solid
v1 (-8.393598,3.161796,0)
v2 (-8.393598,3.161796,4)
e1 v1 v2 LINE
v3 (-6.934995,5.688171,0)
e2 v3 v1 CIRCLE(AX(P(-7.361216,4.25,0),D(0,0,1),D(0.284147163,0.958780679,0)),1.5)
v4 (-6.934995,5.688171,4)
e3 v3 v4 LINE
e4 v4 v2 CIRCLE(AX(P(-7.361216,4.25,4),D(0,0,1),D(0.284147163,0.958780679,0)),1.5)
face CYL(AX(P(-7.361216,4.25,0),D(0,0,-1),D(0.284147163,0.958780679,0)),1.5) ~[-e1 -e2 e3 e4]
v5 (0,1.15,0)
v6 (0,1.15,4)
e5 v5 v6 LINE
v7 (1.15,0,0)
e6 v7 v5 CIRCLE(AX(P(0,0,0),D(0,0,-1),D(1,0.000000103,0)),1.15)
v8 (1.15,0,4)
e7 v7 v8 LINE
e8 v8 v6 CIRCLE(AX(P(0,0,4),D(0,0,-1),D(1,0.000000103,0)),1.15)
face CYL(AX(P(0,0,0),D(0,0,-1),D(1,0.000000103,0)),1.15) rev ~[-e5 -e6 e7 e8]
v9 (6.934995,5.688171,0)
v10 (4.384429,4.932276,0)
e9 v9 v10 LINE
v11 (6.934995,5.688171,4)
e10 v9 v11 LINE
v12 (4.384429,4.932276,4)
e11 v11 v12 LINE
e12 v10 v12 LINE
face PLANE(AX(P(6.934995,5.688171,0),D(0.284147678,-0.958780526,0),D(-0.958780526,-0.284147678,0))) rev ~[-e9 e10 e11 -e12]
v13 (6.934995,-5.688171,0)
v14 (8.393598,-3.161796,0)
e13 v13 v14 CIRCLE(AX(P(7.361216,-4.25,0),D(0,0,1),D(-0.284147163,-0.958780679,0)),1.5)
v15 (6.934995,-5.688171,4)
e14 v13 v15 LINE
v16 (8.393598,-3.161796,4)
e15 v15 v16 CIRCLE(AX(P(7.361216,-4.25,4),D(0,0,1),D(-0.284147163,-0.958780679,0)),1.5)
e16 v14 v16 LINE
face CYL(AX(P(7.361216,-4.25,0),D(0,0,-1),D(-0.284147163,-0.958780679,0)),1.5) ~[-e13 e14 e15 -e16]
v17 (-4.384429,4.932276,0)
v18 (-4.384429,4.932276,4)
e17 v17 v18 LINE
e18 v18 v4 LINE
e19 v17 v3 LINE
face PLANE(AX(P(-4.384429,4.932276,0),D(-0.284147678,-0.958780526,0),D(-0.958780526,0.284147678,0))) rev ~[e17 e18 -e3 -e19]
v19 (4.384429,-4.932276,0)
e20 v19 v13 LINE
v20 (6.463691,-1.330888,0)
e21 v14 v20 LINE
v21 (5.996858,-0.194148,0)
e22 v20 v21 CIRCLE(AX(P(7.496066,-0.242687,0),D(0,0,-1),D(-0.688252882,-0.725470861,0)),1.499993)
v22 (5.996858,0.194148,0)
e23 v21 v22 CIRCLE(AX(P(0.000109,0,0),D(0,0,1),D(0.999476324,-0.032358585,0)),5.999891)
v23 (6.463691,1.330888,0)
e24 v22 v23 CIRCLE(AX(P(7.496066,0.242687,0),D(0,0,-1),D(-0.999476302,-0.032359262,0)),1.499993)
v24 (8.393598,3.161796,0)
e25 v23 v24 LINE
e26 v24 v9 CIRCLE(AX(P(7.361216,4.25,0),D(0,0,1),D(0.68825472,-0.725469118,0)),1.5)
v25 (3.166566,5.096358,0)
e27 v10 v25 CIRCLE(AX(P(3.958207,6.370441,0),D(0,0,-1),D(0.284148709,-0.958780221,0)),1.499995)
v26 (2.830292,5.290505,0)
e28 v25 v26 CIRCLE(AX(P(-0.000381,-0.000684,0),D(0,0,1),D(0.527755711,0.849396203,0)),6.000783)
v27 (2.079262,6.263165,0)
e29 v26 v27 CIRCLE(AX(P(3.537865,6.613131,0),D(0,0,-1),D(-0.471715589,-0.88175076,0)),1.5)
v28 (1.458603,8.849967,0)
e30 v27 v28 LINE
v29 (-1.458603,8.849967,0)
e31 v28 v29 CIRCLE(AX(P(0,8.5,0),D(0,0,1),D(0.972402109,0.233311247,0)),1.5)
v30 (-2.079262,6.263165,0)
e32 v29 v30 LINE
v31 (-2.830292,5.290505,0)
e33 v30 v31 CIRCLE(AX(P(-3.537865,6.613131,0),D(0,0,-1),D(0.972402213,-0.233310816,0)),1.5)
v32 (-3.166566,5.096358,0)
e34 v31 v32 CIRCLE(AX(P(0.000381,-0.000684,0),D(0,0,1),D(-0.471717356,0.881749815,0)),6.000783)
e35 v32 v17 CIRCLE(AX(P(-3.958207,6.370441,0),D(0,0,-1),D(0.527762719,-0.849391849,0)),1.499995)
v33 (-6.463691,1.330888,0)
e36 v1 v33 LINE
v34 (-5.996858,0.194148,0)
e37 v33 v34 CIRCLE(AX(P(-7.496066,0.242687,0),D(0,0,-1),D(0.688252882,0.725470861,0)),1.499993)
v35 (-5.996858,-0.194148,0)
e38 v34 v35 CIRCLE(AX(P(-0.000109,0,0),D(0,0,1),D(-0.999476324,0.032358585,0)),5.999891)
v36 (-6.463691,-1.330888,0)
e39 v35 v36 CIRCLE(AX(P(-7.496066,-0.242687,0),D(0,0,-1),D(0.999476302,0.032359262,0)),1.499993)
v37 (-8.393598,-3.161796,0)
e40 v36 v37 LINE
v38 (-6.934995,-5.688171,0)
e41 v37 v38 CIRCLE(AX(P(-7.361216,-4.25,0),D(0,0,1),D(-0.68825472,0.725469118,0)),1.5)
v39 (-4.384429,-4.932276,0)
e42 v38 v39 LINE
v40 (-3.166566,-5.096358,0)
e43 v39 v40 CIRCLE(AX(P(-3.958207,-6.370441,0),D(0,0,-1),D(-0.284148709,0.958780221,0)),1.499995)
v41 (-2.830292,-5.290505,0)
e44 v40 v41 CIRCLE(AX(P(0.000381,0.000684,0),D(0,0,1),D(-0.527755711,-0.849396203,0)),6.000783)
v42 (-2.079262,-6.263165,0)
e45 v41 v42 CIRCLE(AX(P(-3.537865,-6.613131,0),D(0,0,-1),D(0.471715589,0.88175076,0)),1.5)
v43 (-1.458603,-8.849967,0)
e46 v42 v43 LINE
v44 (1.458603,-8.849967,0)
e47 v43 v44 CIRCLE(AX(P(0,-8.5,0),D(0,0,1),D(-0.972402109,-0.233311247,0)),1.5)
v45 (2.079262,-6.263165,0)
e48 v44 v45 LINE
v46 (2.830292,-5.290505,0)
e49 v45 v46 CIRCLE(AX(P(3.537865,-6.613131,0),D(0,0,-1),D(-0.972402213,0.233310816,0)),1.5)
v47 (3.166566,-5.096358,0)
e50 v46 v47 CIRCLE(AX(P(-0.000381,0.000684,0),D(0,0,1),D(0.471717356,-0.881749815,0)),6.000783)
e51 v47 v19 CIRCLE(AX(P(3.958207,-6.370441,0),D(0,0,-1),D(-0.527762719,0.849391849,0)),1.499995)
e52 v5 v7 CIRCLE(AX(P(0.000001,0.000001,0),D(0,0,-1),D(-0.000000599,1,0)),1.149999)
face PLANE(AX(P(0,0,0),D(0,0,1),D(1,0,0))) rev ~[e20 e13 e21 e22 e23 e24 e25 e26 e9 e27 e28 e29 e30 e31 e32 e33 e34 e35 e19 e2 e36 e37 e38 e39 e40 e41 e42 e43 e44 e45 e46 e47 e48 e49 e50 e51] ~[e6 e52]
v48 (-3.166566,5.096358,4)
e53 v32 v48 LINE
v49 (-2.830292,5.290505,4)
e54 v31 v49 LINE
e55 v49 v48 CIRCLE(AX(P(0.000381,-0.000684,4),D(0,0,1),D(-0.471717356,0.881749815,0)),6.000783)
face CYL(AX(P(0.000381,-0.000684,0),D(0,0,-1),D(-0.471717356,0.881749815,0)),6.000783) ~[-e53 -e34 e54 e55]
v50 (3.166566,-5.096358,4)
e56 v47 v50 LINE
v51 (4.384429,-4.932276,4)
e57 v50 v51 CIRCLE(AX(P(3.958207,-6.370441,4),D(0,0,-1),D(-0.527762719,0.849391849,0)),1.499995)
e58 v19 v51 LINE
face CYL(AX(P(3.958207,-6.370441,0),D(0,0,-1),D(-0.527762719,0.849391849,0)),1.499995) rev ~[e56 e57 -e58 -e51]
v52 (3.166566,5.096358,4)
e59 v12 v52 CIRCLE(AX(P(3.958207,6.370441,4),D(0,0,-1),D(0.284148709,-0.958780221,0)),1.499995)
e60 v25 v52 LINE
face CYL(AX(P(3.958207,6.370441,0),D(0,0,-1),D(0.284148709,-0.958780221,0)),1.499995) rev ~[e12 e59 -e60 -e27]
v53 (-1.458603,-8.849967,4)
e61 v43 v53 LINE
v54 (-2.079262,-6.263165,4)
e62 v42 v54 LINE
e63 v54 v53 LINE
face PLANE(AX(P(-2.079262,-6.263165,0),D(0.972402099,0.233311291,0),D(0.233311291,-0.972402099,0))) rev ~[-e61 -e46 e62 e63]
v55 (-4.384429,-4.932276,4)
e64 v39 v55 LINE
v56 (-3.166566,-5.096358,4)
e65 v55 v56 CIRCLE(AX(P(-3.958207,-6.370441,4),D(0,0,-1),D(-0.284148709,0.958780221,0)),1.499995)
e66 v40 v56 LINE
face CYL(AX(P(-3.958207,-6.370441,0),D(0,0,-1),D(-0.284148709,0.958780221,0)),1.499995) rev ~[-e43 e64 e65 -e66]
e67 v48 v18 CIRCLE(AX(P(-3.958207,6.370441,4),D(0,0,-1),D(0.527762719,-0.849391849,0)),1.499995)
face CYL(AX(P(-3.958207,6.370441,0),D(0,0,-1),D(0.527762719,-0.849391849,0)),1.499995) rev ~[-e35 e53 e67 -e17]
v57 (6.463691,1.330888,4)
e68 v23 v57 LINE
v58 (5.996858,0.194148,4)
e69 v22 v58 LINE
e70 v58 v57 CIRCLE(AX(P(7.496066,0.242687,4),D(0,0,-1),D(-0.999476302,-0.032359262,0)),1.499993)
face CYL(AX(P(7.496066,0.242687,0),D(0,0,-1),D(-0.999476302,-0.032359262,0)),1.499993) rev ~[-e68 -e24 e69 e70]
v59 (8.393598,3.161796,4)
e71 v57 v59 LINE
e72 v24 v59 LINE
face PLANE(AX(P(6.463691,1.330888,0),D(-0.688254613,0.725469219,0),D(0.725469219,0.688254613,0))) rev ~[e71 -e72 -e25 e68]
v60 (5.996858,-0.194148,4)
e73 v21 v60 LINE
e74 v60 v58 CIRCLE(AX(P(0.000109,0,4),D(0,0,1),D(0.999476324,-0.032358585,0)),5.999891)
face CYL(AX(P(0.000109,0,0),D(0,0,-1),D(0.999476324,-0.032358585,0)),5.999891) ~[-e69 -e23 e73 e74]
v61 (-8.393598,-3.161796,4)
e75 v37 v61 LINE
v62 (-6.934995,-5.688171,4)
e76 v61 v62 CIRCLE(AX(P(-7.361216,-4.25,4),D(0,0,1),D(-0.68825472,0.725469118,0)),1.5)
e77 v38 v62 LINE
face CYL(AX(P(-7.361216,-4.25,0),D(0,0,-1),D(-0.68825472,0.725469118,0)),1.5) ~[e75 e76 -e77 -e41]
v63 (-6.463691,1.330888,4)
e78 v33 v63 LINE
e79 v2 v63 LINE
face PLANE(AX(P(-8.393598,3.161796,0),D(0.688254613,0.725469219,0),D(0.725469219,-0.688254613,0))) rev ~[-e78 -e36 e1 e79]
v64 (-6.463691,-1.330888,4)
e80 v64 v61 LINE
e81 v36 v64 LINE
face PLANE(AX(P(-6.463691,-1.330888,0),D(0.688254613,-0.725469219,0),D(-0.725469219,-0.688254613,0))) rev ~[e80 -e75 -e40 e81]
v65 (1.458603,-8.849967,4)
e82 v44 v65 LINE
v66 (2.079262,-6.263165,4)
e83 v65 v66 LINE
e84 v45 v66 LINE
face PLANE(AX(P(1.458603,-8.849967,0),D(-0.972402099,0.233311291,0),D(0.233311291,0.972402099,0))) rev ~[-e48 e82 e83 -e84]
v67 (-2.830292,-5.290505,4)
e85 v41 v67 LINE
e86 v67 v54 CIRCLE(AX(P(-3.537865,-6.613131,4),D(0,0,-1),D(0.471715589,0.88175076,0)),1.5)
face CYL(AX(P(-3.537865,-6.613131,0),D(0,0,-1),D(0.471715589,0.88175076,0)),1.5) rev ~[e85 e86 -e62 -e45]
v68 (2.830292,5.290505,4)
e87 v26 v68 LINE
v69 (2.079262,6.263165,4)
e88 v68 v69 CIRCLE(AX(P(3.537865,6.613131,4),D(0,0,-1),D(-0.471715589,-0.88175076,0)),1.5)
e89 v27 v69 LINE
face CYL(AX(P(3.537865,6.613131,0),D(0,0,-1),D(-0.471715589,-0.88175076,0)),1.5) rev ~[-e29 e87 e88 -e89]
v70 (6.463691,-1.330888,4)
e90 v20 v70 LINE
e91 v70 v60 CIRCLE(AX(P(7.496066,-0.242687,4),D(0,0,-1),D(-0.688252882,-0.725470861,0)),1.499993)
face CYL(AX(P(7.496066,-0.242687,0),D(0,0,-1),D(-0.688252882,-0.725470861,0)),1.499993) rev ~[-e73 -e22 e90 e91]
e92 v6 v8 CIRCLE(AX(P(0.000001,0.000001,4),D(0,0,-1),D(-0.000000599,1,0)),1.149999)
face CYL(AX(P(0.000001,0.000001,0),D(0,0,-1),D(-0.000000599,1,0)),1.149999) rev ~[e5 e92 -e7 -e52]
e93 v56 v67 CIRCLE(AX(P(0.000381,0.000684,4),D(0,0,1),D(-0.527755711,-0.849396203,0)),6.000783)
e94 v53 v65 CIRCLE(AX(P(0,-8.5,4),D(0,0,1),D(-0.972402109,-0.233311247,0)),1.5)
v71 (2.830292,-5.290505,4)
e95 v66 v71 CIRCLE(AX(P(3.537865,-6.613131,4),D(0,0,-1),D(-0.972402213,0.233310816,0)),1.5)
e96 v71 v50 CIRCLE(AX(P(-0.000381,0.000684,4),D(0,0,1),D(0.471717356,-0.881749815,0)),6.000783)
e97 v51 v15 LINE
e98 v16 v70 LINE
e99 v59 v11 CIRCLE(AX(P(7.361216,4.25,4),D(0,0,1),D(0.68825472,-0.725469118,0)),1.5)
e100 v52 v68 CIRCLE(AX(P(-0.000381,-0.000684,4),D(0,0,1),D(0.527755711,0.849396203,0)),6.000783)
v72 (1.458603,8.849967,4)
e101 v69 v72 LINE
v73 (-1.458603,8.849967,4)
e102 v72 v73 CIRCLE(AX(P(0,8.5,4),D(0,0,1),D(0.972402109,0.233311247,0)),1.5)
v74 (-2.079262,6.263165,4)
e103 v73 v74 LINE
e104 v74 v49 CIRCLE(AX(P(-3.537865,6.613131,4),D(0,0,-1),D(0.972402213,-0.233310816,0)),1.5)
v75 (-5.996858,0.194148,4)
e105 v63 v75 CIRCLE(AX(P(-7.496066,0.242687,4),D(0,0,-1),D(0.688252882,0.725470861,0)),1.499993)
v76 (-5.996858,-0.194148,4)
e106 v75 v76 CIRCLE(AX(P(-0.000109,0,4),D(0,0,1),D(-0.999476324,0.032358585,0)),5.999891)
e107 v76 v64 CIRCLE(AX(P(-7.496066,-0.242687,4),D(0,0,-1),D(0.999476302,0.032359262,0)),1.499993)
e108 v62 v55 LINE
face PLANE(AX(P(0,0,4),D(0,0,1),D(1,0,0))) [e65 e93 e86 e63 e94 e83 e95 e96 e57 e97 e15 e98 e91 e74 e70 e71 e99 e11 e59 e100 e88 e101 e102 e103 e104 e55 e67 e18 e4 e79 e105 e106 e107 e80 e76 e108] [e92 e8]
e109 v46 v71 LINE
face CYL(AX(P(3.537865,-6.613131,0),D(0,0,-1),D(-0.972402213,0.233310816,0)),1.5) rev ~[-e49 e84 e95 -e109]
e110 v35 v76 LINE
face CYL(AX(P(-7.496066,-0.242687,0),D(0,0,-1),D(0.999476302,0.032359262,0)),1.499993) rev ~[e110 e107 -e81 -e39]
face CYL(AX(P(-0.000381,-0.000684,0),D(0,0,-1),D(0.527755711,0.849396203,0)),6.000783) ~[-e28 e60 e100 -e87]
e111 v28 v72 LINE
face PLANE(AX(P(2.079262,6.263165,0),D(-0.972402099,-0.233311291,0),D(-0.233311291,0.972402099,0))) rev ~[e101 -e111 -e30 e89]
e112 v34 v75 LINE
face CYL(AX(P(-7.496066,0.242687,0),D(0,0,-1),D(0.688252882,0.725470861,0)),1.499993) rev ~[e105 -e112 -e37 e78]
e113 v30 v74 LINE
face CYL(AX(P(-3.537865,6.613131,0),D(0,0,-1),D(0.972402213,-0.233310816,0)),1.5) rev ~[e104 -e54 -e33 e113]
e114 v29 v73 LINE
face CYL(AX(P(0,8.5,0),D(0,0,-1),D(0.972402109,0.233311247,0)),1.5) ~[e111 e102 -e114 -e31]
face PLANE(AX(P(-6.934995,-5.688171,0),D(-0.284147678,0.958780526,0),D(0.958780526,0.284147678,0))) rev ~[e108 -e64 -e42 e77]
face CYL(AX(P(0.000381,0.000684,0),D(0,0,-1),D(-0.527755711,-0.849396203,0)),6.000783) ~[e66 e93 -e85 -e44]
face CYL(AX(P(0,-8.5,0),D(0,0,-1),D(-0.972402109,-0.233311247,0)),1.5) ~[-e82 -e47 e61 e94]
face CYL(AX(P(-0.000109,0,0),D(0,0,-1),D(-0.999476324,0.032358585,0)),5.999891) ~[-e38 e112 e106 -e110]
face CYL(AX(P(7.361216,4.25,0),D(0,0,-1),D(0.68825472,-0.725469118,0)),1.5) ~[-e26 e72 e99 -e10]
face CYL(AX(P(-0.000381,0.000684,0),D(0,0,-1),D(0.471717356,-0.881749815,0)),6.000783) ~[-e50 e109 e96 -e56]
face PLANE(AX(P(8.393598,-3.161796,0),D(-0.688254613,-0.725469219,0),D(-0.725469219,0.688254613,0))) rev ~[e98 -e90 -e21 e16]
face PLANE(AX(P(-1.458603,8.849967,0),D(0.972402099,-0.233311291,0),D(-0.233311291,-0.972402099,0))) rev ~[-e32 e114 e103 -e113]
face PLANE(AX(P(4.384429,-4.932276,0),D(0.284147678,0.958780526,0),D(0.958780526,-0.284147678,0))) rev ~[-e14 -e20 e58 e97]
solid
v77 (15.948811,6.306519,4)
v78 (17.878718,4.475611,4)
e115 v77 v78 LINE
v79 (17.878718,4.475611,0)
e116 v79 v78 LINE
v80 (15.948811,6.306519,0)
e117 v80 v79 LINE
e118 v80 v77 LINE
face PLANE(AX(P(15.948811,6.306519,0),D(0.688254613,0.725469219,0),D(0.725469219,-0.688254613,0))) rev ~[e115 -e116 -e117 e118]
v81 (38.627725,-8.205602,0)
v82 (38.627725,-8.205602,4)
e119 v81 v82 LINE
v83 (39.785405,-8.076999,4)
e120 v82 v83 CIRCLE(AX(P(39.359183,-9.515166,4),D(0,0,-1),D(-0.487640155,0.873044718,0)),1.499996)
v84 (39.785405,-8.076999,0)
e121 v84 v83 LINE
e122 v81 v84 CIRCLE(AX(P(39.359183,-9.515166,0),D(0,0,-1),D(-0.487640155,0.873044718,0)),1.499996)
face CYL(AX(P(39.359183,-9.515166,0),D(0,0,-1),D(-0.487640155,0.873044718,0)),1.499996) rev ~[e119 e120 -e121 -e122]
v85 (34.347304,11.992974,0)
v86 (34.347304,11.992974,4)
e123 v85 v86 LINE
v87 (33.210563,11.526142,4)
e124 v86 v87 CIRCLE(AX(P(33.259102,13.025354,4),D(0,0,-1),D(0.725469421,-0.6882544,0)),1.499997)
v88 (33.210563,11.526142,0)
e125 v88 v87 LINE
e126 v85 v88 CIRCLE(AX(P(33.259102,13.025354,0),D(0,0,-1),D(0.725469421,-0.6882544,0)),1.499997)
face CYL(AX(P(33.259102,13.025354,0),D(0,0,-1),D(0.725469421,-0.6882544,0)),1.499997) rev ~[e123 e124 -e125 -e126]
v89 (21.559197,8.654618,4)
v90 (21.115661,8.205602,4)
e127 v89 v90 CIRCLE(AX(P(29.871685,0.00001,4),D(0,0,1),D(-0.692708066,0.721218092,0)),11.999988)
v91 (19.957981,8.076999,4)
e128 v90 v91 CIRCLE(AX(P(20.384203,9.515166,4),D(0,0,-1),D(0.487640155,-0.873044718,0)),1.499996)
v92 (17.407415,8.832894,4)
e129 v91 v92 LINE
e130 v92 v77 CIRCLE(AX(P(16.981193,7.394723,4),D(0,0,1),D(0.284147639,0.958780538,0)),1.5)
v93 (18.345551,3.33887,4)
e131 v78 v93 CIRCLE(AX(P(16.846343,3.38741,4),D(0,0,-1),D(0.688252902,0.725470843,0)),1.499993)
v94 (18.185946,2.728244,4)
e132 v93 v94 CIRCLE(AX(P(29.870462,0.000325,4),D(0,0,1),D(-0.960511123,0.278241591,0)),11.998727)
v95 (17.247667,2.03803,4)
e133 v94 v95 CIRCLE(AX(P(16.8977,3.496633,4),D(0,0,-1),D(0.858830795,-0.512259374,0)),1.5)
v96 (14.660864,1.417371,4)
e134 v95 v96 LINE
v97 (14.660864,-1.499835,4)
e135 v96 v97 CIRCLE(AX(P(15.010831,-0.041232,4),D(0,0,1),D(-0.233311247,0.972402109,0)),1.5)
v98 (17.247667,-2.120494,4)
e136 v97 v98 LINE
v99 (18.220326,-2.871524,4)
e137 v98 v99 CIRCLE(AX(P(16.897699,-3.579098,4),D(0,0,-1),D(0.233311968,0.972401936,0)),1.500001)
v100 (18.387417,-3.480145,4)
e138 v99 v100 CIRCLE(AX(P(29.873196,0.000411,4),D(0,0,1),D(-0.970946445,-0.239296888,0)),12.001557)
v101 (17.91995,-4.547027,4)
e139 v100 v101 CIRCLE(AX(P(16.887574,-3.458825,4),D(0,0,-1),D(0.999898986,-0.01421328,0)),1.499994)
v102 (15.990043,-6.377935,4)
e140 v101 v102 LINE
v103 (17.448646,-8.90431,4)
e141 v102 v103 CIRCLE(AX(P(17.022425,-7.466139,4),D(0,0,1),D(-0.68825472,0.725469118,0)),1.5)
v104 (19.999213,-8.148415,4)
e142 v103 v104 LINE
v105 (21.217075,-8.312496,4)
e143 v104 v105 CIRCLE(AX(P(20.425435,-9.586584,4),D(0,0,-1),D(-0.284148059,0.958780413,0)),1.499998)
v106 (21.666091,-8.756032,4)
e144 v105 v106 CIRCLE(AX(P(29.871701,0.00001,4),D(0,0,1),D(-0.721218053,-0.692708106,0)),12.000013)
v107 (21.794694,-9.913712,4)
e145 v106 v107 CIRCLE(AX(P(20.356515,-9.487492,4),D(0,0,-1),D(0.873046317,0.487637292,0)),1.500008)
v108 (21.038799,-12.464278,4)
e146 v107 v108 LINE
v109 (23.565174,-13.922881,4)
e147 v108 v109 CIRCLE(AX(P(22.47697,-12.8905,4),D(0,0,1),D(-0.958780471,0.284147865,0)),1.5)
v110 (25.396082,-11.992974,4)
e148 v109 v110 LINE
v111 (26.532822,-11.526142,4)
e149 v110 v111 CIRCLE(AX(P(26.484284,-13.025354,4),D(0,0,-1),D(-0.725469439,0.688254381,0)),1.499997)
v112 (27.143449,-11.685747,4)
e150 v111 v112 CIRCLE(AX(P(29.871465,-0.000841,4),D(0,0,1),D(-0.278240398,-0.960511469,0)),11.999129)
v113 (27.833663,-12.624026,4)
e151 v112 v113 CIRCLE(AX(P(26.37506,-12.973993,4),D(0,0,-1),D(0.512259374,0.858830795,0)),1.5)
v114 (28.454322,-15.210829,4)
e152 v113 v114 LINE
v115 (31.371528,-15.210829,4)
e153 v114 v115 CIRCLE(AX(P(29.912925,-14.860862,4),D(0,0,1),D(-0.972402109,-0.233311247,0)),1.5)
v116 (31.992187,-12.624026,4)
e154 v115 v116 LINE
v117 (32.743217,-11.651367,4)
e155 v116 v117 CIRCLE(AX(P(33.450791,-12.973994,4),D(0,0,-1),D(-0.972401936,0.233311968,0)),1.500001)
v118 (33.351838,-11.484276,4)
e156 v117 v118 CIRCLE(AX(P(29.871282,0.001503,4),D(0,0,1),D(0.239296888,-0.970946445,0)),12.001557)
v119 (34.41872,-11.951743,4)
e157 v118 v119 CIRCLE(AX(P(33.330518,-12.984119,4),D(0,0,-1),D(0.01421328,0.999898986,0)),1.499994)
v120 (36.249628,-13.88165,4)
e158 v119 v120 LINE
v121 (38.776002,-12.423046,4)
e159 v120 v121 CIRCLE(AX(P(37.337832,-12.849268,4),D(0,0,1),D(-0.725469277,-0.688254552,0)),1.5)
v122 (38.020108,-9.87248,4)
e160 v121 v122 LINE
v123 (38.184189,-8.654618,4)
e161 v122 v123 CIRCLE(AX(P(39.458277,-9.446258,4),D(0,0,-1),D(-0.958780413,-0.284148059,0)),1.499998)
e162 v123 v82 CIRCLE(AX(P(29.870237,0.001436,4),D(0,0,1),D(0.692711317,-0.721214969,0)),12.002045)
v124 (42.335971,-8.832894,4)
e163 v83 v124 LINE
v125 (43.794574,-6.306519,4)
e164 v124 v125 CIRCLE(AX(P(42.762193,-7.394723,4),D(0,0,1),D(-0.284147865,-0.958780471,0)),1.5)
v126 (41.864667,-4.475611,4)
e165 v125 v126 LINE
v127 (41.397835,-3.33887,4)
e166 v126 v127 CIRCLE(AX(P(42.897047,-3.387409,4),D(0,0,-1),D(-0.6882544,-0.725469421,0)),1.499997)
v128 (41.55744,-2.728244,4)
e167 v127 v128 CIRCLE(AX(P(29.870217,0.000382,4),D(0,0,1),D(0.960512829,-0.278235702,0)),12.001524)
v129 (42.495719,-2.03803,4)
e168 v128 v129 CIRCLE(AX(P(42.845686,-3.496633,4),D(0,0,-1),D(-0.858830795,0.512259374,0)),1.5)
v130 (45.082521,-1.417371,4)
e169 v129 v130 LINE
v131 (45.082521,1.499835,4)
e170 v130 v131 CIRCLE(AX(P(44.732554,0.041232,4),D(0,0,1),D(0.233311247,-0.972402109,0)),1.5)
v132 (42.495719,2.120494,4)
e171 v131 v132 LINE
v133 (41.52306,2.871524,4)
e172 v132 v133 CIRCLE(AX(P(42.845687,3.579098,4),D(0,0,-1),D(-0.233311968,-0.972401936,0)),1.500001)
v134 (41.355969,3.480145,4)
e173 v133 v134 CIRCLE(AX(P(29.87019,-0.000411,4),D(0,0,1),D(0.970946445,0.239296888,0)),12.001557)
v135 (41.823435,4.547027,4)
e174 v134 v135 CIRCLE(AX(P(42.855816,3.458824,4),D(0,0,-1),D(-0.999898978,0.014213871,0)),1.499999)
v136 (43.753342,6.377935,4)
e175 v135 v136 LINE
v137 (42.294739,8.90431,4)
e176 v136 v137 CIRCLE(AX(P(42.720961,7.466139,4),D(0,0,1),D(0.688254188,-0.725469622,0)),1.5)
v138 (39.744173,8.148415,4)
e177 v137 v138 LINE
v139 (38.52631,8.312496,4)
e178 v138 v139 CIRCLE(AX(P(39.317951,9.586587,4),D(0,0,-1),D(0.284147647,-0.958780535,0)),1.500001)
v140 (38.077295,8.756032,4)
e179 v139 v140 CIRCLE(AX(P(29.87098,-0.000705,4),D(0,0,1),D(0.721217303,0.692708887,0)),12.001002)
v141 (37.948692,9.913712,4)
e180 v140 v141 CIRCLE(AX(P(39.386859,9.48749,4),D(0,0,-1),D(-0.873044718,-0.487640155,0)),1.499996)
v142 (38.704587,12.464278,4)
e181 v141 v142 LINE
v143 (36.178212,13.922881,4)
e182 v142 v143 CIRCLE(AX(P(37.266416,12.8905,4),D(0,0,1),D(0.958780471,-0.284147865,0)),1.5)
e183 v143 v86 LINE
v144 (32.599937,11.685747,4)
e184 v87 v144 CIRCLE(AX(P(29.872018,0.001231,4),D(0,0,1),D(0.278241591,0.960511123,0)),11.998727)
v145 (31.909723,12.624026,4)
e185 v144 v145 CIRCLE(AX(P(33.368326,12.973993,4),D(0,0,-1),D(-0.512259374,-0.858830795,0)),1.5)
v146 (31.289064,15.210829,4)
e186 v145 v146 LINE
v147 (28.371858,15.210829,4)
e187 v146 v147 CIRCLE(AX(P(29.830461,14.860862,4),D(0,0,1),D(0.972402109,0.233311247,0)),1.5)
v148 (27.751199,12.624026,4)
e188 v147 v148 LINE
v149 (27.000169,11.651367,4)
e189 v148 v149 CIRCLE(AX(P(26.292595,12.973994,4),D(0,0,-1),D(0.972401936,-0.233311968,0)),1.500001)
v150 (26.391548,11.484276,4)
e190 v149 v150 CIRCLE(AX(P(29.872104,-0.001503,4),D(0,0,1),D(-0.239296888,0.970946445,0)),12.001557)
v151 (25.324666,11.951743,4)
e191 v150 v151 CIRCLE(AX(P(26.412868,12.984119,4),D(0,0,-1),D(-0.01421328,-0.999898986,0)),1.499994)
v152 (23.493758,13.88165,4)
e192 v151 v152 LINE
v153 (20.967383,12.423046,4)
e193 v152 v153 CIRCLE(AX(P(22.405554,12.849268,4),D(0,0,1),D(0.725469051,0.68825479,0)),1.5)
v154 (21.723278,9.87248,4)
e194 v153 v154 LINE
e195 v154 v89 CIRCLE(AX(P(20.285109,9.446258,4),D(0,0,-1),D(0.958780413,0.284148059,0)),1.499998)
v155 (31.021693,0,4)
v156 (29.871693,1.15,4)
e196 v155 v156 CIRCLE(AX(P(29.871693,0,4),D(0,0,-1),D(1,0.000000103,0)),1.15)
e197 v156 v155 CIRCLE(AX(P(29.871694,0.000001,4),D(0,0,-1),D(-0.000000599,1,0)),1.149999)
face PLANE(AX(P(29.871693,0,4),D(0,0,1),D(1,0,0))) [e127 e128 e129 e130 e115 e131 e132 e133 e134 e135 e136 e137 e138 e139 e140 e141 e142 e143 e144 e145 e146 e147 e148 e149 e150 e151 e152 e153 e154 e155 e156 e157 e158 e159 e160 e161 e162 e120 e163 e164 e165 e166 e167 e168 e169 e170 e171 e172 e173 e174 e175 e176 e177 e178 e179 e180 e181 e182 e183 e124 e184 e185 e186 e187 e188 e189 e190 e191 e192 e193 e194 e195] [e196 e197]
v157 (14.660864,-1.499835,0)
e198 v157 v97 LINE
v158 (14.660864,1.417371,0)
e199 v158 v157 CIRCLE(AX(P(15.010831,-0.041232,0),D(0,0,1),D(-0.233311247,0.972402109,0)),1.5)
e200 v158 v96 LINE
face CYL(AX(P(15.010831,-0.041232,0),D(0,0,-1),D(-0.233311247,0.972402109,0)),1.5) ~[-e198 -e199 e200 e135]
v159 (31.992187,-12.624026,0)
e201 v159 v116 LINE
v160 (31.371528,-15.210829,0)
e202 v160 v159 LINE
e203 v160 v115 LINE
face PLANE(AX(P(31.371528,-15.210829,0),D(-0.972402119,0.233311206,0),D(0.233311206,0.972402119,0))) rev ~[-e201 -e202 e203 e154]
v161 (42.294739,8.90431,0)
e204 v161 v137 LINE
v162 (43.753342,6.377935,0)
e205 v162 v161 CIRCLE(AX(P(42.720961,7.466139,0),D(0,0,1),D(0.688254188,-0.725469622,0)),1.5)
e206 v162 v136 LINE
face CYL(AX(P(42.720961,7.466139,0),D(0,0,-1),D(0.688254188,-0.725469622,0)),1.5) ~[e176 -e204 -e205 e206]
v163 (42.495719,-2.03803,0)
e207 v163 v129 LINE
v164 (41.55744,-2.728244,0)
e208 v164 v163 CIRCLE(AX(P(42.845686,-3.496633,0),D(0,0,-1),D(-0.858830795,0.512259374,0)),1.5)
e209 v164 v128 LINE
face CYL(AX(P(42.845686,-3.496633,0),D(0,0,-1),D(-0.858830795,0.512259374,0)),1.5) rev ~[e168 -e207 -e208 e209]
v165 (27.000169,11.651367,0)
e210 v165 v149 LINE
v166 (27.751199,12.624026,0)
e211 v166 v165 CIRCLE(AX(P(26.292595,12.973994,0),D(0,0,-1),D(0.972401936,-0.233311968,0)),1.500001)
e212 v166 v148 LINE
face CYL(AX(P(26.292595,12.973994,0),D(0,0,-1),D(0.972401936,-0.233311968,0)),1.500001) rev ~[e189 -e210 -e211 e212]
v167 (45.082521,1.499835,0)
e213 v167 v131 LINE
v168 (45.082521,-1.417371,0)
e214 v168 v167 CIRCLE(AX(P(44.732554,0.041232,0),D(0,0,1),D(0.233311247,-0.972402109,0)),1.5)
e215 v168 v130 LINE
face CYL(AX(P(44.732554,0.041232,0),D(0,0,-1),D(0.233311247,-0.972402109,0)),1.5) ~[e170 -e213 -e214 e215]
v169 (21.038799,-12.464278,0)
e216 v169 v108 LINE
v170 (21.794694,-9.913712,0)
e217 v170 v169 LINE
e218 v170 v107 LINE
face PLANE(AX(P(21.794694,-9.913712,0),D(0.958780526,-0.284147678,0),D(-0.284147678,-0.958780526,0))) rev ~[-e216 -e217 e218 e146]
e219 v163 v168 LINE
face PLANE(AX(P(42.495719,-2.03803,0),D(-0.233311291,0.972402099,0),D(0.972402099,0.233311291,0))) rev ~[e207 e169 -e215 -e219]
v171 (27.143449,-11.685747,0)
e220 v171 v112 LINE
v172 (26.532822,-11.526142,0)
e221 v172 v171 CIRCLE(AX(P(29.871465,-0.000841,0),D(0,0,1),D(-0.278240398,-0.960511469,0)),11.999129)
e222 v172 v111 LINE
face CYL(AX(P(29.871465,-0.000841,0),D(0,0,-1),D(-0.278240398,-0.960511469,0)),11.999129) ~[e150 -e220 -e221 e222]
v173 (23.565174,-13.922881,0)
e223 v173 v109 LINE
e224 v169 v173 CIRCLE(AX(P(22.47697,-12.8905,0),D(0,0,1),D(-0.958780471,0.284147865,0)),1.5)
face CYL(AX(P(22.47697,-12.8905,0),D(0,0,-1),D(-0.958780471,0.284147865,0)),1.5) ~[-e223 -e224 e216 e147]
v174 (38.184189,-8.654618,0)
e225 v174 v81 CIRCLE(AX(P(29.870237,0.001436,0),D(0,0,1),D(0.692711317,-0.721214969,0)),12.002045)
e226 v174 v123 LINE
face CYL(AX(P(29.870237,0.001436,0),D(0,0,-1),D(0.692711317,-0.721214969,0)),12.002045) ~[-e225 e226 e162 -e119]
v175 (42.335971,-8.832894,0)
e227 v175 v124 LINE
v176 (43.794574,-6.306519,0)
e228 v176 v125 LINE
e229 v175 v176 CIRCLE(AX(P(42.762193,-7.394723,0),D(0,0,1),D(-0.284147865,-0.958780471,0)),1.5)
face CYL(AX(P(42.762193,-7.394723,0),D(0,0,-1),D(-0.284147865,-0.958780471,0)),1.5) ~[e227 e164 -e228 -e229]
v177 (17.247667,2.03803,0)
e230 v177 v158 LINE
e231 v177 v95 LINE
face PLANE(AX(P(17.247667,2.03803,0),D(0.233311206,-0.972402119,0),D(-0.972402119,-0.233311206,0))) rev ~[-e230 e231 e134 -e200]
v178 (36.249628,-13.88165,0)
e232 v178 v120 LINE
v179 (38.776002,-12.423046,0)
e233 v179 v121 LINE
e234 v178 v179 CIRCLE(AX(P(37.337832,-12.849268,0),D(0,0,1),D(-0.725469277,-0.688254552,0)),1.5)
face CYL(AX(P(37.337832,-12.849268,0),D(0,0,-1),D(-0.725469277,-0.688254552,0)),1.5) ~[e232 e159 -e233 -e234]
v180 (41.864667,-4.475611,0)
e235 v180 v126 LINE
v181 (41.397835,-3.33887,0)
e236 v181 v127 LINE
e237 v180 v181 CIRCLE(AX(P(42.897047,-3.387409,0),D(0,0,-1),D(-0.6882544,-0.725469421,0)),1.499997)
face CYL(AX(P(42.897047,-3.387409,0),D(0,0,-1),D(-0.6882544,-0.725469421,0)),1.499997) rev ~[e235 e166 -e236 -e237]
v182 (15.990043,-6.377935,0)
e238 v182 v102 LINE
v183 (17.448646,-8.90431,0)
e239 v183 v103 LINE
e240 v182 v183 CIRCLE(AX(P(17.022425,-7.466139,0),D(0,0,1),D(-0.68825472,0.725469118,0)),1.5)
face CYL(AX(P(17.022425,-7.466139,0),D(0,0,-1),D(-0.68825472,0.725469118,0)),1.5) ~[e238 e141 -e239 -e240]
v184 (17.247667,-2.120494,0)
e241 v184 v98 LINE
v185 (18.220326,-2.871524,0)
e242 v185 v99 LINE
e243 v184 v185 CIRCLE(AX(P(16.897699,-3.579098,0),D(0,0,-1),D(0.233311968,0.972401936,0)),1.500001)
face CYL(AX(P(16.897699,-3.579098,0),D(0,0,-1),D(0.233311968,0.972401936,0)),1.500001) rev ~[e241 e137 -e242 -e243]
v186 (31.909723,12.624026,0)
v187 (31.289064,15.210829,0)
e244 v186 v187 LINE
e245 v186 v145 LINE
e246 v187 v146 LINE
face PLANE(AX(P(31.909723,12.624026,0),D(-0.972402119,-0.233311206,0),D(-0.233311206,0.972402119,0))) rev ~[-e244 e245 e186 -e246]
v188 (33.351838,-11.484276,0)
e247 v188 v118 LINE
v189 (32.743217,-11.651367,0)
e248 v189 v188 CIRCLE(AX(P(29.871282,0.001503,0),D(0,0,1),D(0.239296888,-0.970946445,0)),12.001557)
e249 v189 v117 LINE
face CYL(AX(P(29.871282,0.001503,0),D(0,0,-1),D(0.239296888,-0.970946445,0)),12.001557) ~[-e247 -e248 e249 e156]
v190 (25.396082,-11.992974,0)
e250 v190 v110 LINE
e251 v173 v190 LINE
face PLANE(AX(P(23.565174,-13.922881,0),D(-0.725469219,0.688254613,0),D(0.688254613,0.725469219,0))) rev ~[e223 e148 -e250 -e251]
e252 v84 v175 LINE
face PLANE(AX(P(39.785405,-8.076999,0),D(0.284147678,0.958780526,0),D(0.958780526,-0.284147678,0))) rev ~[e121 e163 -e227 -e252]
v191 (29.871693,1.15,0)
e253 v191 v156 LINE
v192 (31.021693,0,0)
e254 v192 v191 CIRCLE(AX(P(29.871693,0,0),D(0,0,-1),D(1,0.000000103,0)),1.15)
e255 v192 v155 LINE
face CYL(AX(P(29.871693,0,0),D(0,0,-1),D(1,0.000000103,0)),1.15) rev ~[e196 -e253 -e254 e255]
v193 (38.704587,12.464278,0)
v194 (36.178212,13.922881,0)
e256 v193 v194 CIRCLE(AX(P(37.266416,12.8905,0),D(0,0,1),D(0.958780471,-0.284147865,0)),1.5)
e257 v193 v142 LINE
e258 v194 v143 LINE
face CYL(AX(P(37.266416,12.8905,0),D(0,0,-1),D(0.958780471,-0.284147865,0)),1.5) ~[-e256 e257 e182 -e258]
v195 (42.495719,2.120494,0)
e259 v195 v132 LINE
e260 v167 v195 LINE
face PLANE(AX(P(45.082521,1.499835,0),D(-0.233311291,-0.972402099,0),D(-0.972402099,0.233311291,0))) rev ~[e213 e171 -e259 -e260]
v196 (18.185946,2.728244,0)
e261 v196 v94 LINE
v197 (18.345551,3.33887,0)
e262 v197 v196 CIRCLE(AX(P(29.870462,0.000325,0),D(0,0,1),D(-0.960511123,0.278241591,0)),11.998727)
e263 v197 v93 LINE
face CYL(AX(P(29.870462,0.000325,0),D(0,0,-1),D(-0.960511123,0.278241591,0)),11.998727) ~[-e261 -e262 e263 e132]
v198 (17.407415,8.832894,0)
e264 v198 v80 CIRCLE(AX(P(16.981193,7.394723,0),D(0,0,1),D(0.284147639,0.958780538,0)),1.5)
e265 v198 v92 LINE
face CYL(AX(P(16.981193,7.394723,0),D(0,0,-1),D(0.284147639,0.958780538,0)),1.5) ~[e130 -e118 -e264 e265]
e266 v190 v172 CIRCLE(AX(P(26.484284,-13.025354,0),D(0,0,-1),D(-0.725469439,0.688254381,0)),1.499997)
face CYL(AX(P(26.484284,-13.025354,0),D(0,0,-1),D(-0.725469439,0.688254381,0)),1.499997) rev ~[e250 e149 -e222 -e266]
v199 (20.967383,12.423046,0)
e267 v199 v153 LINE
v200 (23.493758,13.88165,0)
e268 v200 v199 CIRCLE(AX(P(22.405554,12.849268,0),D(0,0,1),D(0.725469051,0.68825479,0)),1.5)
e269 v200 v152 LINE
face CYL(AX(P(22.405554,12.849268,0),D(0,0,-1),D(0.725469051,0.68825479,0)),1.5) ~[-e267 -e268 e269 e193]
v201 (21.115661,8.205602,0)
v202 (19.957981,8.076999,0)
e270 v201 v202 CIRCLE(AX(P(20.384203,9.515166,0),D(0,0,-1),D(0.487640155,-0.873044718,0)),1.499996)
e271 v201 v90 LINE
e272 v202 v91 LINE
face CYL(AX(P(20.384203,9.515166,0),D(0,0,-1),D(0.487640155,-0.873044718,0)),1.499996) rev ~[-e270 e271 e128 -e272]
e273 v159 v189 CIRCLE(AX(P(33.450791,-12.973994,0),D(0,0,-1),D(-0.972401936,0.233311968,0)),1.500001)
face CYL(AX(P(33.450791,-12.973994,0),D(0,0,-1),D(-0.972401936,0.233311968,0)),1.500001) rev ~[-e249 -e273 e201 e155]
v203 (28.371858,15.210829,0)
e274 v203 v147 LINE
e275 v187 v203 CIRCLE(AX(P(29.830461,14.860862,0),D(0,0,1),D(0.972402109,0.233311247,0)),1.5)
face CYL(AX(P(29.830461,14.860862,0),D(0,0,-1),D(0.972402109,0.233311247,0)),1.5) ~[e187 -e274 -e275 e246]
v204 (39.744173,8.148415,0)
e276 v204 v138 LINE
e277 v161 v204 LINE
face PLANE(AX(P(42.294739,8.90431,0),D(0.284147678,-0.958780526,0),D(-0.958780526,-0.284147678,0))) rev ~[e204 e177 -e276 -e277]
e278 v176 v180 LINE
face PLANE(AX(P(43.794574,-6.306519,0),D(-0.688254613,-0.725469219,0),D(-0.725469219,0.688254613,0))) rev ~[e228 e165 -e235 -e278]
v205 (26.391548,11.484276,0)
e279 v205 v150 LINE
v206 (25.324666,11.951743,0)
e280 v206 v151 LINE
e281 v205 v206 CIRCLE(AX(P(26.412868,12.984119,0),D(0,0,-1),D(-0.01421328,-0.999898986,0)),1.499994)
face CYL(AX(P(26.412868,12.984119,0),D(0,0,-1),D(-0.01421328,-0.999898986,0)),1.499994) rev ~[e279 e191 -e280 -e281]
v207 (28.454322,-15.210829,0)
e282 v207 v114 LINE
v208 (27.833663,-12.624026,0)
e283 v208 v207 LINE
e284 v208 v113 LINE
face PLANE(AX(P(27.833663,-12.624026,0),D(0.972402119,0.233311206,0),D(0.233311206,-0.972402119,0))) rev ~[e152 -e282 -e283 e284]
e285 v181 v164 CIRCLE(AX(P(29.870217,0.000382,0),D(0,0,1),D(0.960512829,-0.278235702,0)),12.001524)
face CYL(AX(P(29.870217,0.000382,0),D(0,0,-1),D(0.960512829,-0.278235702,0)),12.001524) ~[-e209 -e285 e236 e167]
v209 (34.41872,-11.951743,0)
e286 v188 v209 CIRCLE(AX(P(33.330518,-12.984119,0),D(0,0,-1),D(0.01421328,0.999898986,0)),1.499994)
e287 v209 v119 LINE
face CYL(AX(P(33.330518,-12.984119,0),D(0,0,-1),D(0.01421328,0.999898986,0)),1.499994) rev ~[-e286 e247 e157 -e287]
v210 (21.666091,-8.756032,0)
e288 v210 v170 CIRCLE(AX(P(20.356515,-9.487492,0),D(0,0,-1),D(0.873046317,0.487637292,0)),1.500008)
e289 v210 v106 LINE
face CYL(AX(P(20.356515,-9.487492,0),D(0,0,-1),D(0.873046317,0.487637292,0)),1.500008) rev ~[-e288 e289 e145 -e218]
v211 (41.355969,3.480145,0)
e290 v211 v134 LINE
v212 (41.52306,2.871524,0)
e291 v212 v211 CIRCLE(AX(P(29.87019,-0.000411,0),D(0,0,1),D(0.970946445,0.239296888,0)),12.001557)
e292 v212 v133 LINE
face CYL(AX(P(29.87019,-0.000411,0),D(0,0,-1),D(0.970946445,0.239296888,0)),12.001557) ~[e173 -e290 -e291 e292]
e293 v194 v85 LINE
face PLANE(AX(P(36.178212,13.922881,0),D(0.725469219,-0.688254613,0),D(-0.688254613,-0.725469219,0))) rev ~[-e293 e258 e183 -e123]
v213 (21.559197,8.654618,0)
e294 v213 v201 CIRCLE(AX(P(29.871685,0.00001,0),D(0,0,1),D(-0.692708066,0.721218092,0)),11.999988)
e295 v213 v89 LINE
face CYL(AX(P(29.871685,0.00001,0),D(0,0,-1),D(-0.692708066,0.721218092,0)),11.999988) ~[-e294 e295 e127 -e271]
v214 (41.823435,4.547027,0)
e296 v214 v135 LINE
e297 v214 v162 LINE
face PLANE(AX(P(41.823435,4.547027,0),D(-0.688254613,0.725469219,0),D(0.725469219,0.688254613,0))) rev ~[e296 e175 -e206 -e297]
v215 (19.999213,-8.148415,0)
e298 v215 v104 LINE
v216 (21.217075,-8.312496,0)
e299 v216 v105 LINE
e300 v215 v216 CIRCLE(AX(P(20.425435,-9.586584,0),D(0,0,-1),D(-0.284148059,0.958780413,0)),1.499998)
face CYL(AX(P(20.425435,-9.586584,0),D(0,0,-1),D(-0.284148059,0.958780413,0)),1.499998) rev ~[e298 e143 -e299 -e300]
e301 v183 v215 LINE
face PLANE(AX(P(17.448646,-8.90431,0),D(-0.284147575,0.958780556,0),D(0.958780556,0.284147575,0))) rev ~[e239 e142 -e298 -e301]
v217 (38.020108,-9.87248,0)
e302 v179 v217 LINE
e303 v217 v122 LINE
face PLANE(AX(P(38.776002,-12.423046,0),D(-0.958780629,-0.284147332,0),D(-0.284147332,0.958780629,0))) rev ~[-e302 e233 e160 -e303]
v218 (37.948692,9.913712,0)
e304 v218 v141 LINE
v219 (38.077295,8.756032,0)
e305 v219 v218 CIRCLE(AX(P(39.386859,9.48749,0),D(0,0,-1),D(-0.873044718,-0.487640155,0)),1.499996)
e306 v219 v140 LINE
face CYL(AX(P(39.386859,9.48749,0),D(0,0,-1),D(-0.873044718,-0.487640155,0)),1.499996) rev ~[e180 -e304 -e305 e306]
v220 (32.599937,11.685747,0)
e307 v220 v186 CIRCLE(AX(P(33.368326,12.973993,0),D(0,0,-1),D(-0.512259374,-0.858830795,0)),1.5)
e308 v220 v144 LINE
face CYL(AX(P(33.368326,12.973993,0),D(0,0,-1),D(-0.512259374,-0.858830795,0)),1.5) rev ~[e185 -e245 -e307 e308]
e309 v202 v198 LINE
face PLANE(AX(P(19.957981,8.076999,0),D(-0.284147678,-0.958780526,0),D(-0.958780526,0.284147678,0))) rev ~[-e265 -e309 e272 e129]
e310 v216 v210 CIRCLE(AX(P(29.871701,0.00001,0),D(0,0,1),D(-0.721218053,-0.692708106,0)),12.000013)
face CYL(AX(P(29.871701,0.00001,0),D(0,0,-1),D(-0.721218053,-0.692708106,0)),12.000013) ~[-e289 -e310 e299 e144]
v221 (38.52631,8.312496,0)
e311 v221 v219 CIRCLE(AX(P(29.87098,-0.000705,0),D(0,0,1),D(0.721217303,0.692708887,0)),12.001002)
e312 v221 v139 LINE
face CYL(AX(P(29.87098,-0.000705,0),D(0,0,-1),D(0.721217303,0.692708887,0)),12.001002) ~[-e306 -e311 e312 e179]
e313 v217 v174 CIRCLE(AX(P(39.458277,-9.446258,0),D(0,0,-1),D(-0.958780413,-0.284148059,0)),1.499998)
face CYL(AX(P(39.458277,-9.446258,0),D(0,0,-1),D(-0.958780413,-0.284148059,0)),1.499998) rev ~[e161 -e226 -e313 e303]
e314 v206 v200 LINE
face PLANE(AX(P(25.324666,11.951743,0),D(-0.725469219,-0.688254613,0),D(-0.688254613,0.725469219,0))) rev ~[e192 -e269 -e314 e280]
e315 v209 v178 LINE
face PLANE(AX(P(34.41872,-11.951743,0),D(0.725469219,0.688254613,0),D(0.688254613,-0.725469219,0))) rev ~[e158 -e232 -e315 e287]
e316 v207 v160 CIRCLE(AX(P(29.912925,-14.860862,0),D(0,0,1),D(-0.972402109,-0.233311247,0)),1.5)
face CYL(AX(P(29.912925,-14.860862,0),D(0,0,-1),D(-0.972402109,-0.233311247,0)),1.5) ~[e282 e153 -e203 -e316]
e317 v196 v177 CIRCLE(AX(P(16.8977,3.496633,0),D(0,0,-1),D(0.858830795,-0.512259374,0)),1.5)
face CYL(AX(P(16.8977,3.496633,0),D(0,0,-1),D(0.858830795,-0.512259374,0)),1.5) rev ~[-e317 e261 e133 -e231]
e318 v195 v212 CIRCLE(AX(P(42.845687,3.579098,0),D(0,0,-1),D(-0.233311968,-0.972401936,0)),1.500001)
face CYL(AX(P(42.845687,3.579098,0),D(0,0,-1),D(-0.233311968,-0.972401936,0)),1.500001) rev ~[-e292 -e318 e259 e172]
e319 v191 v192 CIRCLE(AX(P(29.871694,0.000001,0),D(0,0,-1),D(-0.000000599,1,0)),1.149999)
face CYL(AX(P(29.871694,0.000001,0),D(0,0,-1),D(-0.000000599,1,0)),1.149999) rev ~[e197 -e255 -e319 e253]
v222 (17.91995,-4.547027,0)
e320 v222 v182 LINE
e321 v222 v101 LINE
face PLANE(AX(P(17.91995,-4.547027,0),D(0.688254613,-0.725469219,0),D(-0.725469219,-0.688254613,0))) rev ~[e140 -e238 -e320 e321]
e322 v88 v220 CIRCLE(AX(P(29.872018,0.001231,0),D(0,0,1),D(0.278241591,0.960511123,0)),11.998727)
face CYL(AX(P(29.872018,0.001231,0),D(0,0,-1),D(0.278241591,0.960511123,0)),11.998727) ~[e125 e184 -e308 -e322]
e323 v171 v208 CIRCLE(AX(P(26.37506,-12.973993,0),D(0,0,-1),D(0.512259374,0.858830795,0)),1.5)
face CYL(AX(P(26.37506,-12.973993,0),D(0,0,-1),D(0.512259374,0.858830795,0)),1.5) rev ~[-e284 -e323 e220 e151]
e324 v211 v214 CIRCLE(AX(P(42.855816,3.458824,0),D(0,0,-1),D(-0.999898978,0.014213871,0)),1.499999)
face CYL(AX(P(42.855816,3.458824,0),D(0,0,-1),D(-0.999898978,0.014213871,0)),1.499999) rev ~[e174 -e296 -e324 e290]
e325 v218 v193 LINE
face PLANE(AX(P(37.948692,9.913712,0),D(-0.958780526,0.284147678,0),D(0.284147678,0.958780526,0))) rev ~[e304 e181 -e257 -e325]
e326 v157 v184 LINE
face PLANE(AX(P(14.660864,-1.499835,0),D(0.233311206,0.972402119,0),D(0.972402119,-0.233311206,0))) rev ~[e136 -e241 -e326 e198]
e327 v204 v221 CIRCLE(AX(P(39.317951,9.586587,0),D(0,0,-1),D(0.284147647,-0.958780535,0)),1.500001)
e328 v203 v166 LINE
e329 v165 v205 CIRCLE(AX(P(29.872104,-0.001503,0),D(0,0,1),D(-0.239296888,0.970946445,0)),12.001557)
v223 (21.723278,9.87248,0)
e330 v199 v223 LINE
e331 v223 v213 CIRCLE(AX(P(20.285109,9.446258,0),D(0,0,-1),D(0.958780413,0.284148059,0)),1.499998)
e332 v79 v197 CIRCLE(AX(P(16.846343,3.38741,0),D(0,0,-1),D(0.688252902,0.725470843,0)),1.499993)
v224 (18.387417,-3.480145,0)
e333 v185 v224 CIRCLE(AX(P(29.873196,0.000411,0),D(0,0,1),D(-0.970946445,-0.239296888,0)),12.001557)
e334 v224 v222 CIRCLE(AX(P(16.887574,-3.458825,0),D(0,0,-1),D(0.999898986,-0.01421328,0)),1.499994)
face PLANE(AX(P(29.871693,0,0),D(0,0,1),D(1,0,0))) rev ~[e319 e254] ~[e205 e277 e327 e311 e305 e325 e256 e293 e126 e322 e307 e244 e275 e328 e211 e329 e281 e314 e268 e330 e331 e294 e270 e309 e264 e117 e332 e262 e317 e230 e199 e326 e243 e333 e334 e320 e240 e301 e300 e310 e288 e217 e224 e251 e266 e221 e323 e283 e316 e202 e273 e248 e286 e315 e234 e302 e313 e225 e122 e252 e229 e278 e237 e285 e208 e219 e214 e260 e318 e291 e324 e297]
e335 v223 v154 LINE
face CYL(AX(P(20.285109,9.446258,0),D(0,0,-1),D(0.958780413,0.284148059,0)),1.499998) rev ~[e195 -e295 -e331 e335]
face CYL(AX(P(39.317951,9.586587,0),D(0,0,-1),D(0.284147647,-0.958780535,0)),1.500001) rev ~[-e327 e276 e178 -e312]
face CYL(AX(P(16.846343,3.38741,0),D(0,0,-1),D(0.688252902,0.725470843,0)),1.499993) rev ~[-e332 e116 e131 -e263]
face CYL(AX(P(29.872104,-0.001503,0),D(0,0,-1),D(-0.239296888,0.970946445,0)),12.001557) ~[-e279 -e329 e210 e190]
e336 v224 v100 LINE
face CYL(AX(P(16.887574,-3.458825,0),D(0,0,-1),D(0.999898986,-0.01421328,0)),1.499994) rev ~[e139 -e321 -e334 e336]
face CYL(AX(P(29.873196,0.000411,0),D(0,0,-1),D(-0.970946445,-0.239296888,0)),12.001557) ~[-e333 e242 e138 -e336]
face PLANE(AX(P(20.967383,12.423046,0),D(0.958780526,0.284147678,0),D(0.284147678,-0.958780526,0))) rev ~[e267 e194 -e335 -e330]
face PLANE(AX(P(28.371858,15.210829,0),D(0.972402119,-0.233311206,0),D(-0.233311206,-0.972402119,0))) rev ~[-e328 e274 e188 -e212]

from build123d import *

# Parameters (mm, degrees)
F1_DEPTH = 4
F3_DEPTH = 4


with BuildPart() as f1:
    # F0 (on Top) → F1 (new body)
    with BuildSketch(Plane.XY):
        with BuildLine():
            ThreePointArc((-2.079262, 6.263165), (-2.350601, 5.696396), (-2.830292, 5.290505))
            ThreePointArc((-2.830292, 5.290505), (-3, 5.196152), (-3.166566, 5.096358))
            ThreePointArc((-3.166566, 5.096358), (-3.757923, 4.883878), (-4.384429, 4.932276))
            Line((-4.384429, 4.932276), (-6.934995, 5.688171))
            ThreePointArc((-6.934995, 5.688171), (-8.660254, 5), (-8.393598, 3.161796))
            Line((-8.393598, 3.161796), (-6.463691, 1.330888))
            ThreePointArc((-6.463691, 1.330888), (-6.108524, 0.812518), (-5.996858, 0.194148))
            ThreePointArc((-5.996858, 0.194148), (-6, 0), (-5.996858, -0.194148))
            ThreePointArc((-5.996858, -0.194148), (-6.108524, -0.812518), (-6.463691, -1.330888))
            Line((-6.463691, -1.330888), (-8.393598, -3.161796))
            ThreePointArc((-8.393598, -3.161796), (-8.660254, -5), (-6.934995, -5.688171))
            Line((-6.934995, -5.688171), (-4.384429, -4.932276))
            ThreePointArc((-4.384429, -4.932276), (-3.757923, -4.883878), (-3.166566, -5.096358))
            ThreePointArc((-3.166566, -5.096358), (-3, -5.196152), (-2.830292, -5.290505))
            ThreePointArc((-2.830292, -5.290505), (-2.350601, -5.696396), (-2.079262, -6.263165))
            Line((-2.079262, -6.263165), (-1.458603, -8.849967))
            ThreePointArc((-1.458603, -8.849967), (0, -10), (1.458603, -8.849967))
            Line((1.458603, -8.849967), (2.079262, -6.263165))
            ThreePointArc((2.079262, -6.263165), (2.350601, -5.696396), (2.830292, -5.290505))
            ThreePointArc((2.830292, -5.290505), (3, -5.196152), (3.166566, -5.096358))
            ThreePointArc((3.166566, -5.096358), (3.757923, -4.883878), (4.384429, -4.932276))
            Line((4.384429, -4.932276), (6.934995, -5.688171))
            ThreePointArc((6.934995, -5.688171), (8.660254, -5), (8.393598, -3.161796))
            Line((8.393598, -3.161796), (6.463691, -1.330888))
            ThreePointArc((6.463691, -1.330888), (6.108524, -0.812518), (5.996858, -0.194148))
            ThreePointArc((5.996858, -0.194148), (6, 0), (5.996858, 0.194148))
            ThreePointArc((5.996858, 0.194148), (6.108524, 0.812518), (6.463691, 1.330888))
            Line((6.463691, 1.330888), (8.393598, 3.161796))
            ThreePointArc((8.393598, 3.161796), (8.660254, 5), (6.934995, 5.688171))
            Line((6.934995, 5.688171), (4.384429, 4.932276))
            ThreePointArc((4.384429, 4.932276), (3.757923, 4.883878), (3.166566, 5.096358))
            ThreePointArc((3.166566, 5.096358), (3, 5.196152), (2.830292, 5.290505))
            ThreePointArc((2.830292, 5.290505), (2.350601, 5.696396), (2.079262, 6.263165))
            Line((2.079262, 6.263165), (1.458603, 8.849967))
            ThreePointArc((1.458603, 8.849967), (0, 10), (-1.458603, 8.849967))
            Line((-1.458603, 8.849967), (-2.079262, 6.263165))
        make_face()
        with BuildLine():
            ThreePointArc((0, 1.15), (0.813173, 0.813173), (1.15, 0))
            ThreePointArc((1.15, 0), (-0.813173, -0.813173), (0, 1.15))
        make_face(mode=Mode.SUBTRACT)
    extrude(amount=F1_DEPTH)


with BuildPart() as f3:
    # F2 (on Top) → F3 (new body)
    with BuildSketch(Plane.XY):
        with BuildLine():
            ThreePointArc((27.751199, 12.624026), (27.47986, 12.057258), (27.000169, 11.651367))
            ThreePointArc((27.000169, 11.651367), (26.69476, 11.571823), (26.391548, 11.484276))
            ThreePointArc((26.391548, 11.484276), (25.810879, 11.610222), (25.324666, 11.951743))
            Line((25.324666, 11.951743), (23.493758, 13.88165))
            ThreePointArc((23.493758, 13.88165), (21.655554, 14.148306), (20.967383, 12.423046))
            Line((20.967383, 12.423046), (21.723278, 9.87248))
            ThreePointArc((21.723278, 9.87248), (21.771676, 9.245975), (21.559197, 8.654618))
            ThreePointArc((21.559197, 8.654618), (21.334476, 8.433026), (21.115661, 8.205602))
            ThreePointArc((21.115661, 8.205602), (20.549814, 8.02434), (19.957981, 8.076999))
            Line((19.957981, 8.076999), (17.407415, 8.832894))
            ThreePointArc((17.407415, 8.832894), (15.682155, 8.144723), (15.948811, 6.306519))
            Line((15.948811, 6.306519), (17.878718, 4.475611))
            ThreePointArc((17.878718, 4.475611), (18.233885, 3.957241), (18.345551, 3.33887))
            ThreePointArc((18.345551, 3.33887), (18.261733, 3.034607), (18.185946, 2.728244))
            ThreePointArc((18.185946, 2.728244), (17.786539, 2.288343), (17.247667, 2.03803))
            Line((17.247667, 2.03803), (14.660864, 1.417371))
            ThreePointArc((14.660864, 1.417371), (13.510831, -0.041232), (14.660864, -1.499835))
            Line((14.660864, -1.499835), (17.247667, -2.120494))
            ThreePointArc((17.247667, -2.120494), (17.814435, -2.391833), (18.220326, -2.871524))
            ThreePointArc((18.220326, -2.871524), (18.29987, -3.176933), (18.387417, -3.480145))
            ThreePointArc((18.387417, -3.480145), (18.261471, -4.060814), (17.91995, -4.547027))
            Line((17.91995, -4.547027), (15.990043, -6.377935))
            ThreePointArc((15.990043, -6.377935), (15.723387, -8.216139), (17.448646, -8.90431))
            Line((17.448646, -8.90431), (19.999213, -8.148415))
            ThreePointArc((19.999213, -8.148415), (20.625718, -8.100017), (21.217075, -8.312496))
            ThreePointArc((21.217075, -8.312496), (21.438666, -8.537216), (21.666091, -8.756032))
            ThreePointArc((21.666091, -8.756032), (21.847352, -9.321879), (21.794694, -9.913712))
            Line((21.794694, -9.913712), (21.038799, -12.464278))
            ThreePointArc((21.038799, -12.464278), (21.72697, -14.189538), (23.565174, -13.922881))
            Line((23.565174, -13.922881), (25.396082, -11.992974))
            ThreePointArc((25.396082, -11.992974), (25.914452, -11.637808), (26.532822, -11.526142))
            ThreePointArc((26.532822, -11.526142), (26.837086, -11.60996), (27.143449, -11.685747))
            ThreePointArc((27.143449, -11.685747), (27.58335, -12.085154), (27.833663, -12.624026))
            Line((27.833663, -12.624026), (28.454322, -15.210829))
            ThreePointArc((28.454322, -15.210829), (29.912925, -16.360862), (31.371528, -15.210829))
            Line((31.371528, -15.210829), (31.992187, -12.624026))
            ThreePointArc((31.992187, -12.624026), (32.263526, -12.057258), (32.743217, -11.651367))
            ThreePointArc((32.743217, -11.651367), (33.048626, -11.571823), (33.351838, -11.484276))
            ThreePointArc((33.351838, -11.484276), (33.932507, -11.610222), (34.41872, -11.951743))
            Line((34.41872, -11.951743), (36.249628, -13.88165))
            ThreePointArc((36.249628, -13.88165), (38.087832, -14.148306), (38.776002, -12.423046))
            Line((38.776002, -12.423046), (38.020108, -9.87248))
            ThreePointArc((38.020108, -9.87248), (37.97171, -9.245975), (38.184189, -8.654618))
            ThreePointArc((38.184189, -8.654618), (38.408909, -8.433026), (38.627725, -8.205602))
            ThreePointArc((38.627725, -8.205602), (39.193572, -8.02434), (39.785405, -8.076999))
            Line((39.785405, -8.076999), (42.335971, -8.832894))
            ThreePointArc((42.335971, -8.832894), (44.061231, -8.144723), (43.794574, -6.306519))
            Line((43.794574, -6.306519), (41.864667, -4.475611))
            ThreePointArc((41.864667, -4.475611), (41.509501, -3.957241), (41.397835, -3.33887))
            ThreePointArc((41.397835, -3.33887), (41.481652, -3.034607), (41.55744, -2.728244))
            ThreePointArc((41.55744, -2.728244), (41.956847, -2.288343), (42.495719, -2.03803))
            Line((42.495719, -2.03803), (45.082521, -1.417371))
            ThreePointArc((45.082521, -1.417371), (46.232554, 0.041232), (45.082521, 1.499835))
            Line((45.082521, 1.499835), (42.495719, 2.120494))
            ThreePointArc((42.495719, 2.120494), (41.928951, 2.391833), (41.52306, 2.871524))
            ThreePointArc((41.52306, 2.871524), (41.443516, 3.176933), (41.355969, 3.480145))
            ThreePointArc((41.355969, 3.480145), (41.481915, 4.060814), (41.823435, 4.547027))
            Line((41.823435, 4.547027), (43.753342, 6.377935))
            ThreePointArc((43.753342, 6.377935), (44.019999, 8.216139), (42.294739, 8.90431))
            Line((42.294739, 8.90431), (39.744173, 8.148415))
            ThreePointArc((39.744173, 8.148415), (39.117668, 8.100017), (38.52631, 8.312496))
            ThreePointArc((38.52631, 8.312496), (38.304719, 8.537216), (38.077295, 8.756032))
            ThreePointArc((38.077295, 8.756032), (37.896033, 9.321879), (37.948692, 9.913712))
            Line((37.948692, 9.913712), (38.704587, 12.464278))
            ThreePointArc((38.704587, 12.464278), (38.016416, 14.189538), (36.178212, 13.922881))
            Line((36.178212, 13.922881), (34.347304, 11.992974))
            ThreePointArc((34.347304, 11.992974), (33.828934, 11.637808), (33.210563, 11.526142))
            ThreePointArc((33.210563, 11.526142), (32.9063, 11.60996), (32.599937, 11.685747))
            ThreePointArc((32.599937, 11.685747), (32.160036, 12.085154), (31.909723, 12.624026))
            Line((31.909723, 12.624026), (31.289064, 15.210829))
            ThreePointArc((31.289064, 15.210829), (29.830461, 16.360862), (28.371858, 15.210829))
            Line((28.371858, 15.210829), (27.751199, 12.624026))
        make_face()
        with BuildLine():
            ThreePointArc((29.871693, 1.15), (30.684866, 0.813173), (31.021693, 0))
            ThreePointArc((31.021693, 0), (29.05852, -0.813173), (29.871693, 1.15))
        make_face(mode=Mode.SUBTRACT)
    extrude(amount=F3_DEPTH)


solid = Compound([f1.part, f3.part])
